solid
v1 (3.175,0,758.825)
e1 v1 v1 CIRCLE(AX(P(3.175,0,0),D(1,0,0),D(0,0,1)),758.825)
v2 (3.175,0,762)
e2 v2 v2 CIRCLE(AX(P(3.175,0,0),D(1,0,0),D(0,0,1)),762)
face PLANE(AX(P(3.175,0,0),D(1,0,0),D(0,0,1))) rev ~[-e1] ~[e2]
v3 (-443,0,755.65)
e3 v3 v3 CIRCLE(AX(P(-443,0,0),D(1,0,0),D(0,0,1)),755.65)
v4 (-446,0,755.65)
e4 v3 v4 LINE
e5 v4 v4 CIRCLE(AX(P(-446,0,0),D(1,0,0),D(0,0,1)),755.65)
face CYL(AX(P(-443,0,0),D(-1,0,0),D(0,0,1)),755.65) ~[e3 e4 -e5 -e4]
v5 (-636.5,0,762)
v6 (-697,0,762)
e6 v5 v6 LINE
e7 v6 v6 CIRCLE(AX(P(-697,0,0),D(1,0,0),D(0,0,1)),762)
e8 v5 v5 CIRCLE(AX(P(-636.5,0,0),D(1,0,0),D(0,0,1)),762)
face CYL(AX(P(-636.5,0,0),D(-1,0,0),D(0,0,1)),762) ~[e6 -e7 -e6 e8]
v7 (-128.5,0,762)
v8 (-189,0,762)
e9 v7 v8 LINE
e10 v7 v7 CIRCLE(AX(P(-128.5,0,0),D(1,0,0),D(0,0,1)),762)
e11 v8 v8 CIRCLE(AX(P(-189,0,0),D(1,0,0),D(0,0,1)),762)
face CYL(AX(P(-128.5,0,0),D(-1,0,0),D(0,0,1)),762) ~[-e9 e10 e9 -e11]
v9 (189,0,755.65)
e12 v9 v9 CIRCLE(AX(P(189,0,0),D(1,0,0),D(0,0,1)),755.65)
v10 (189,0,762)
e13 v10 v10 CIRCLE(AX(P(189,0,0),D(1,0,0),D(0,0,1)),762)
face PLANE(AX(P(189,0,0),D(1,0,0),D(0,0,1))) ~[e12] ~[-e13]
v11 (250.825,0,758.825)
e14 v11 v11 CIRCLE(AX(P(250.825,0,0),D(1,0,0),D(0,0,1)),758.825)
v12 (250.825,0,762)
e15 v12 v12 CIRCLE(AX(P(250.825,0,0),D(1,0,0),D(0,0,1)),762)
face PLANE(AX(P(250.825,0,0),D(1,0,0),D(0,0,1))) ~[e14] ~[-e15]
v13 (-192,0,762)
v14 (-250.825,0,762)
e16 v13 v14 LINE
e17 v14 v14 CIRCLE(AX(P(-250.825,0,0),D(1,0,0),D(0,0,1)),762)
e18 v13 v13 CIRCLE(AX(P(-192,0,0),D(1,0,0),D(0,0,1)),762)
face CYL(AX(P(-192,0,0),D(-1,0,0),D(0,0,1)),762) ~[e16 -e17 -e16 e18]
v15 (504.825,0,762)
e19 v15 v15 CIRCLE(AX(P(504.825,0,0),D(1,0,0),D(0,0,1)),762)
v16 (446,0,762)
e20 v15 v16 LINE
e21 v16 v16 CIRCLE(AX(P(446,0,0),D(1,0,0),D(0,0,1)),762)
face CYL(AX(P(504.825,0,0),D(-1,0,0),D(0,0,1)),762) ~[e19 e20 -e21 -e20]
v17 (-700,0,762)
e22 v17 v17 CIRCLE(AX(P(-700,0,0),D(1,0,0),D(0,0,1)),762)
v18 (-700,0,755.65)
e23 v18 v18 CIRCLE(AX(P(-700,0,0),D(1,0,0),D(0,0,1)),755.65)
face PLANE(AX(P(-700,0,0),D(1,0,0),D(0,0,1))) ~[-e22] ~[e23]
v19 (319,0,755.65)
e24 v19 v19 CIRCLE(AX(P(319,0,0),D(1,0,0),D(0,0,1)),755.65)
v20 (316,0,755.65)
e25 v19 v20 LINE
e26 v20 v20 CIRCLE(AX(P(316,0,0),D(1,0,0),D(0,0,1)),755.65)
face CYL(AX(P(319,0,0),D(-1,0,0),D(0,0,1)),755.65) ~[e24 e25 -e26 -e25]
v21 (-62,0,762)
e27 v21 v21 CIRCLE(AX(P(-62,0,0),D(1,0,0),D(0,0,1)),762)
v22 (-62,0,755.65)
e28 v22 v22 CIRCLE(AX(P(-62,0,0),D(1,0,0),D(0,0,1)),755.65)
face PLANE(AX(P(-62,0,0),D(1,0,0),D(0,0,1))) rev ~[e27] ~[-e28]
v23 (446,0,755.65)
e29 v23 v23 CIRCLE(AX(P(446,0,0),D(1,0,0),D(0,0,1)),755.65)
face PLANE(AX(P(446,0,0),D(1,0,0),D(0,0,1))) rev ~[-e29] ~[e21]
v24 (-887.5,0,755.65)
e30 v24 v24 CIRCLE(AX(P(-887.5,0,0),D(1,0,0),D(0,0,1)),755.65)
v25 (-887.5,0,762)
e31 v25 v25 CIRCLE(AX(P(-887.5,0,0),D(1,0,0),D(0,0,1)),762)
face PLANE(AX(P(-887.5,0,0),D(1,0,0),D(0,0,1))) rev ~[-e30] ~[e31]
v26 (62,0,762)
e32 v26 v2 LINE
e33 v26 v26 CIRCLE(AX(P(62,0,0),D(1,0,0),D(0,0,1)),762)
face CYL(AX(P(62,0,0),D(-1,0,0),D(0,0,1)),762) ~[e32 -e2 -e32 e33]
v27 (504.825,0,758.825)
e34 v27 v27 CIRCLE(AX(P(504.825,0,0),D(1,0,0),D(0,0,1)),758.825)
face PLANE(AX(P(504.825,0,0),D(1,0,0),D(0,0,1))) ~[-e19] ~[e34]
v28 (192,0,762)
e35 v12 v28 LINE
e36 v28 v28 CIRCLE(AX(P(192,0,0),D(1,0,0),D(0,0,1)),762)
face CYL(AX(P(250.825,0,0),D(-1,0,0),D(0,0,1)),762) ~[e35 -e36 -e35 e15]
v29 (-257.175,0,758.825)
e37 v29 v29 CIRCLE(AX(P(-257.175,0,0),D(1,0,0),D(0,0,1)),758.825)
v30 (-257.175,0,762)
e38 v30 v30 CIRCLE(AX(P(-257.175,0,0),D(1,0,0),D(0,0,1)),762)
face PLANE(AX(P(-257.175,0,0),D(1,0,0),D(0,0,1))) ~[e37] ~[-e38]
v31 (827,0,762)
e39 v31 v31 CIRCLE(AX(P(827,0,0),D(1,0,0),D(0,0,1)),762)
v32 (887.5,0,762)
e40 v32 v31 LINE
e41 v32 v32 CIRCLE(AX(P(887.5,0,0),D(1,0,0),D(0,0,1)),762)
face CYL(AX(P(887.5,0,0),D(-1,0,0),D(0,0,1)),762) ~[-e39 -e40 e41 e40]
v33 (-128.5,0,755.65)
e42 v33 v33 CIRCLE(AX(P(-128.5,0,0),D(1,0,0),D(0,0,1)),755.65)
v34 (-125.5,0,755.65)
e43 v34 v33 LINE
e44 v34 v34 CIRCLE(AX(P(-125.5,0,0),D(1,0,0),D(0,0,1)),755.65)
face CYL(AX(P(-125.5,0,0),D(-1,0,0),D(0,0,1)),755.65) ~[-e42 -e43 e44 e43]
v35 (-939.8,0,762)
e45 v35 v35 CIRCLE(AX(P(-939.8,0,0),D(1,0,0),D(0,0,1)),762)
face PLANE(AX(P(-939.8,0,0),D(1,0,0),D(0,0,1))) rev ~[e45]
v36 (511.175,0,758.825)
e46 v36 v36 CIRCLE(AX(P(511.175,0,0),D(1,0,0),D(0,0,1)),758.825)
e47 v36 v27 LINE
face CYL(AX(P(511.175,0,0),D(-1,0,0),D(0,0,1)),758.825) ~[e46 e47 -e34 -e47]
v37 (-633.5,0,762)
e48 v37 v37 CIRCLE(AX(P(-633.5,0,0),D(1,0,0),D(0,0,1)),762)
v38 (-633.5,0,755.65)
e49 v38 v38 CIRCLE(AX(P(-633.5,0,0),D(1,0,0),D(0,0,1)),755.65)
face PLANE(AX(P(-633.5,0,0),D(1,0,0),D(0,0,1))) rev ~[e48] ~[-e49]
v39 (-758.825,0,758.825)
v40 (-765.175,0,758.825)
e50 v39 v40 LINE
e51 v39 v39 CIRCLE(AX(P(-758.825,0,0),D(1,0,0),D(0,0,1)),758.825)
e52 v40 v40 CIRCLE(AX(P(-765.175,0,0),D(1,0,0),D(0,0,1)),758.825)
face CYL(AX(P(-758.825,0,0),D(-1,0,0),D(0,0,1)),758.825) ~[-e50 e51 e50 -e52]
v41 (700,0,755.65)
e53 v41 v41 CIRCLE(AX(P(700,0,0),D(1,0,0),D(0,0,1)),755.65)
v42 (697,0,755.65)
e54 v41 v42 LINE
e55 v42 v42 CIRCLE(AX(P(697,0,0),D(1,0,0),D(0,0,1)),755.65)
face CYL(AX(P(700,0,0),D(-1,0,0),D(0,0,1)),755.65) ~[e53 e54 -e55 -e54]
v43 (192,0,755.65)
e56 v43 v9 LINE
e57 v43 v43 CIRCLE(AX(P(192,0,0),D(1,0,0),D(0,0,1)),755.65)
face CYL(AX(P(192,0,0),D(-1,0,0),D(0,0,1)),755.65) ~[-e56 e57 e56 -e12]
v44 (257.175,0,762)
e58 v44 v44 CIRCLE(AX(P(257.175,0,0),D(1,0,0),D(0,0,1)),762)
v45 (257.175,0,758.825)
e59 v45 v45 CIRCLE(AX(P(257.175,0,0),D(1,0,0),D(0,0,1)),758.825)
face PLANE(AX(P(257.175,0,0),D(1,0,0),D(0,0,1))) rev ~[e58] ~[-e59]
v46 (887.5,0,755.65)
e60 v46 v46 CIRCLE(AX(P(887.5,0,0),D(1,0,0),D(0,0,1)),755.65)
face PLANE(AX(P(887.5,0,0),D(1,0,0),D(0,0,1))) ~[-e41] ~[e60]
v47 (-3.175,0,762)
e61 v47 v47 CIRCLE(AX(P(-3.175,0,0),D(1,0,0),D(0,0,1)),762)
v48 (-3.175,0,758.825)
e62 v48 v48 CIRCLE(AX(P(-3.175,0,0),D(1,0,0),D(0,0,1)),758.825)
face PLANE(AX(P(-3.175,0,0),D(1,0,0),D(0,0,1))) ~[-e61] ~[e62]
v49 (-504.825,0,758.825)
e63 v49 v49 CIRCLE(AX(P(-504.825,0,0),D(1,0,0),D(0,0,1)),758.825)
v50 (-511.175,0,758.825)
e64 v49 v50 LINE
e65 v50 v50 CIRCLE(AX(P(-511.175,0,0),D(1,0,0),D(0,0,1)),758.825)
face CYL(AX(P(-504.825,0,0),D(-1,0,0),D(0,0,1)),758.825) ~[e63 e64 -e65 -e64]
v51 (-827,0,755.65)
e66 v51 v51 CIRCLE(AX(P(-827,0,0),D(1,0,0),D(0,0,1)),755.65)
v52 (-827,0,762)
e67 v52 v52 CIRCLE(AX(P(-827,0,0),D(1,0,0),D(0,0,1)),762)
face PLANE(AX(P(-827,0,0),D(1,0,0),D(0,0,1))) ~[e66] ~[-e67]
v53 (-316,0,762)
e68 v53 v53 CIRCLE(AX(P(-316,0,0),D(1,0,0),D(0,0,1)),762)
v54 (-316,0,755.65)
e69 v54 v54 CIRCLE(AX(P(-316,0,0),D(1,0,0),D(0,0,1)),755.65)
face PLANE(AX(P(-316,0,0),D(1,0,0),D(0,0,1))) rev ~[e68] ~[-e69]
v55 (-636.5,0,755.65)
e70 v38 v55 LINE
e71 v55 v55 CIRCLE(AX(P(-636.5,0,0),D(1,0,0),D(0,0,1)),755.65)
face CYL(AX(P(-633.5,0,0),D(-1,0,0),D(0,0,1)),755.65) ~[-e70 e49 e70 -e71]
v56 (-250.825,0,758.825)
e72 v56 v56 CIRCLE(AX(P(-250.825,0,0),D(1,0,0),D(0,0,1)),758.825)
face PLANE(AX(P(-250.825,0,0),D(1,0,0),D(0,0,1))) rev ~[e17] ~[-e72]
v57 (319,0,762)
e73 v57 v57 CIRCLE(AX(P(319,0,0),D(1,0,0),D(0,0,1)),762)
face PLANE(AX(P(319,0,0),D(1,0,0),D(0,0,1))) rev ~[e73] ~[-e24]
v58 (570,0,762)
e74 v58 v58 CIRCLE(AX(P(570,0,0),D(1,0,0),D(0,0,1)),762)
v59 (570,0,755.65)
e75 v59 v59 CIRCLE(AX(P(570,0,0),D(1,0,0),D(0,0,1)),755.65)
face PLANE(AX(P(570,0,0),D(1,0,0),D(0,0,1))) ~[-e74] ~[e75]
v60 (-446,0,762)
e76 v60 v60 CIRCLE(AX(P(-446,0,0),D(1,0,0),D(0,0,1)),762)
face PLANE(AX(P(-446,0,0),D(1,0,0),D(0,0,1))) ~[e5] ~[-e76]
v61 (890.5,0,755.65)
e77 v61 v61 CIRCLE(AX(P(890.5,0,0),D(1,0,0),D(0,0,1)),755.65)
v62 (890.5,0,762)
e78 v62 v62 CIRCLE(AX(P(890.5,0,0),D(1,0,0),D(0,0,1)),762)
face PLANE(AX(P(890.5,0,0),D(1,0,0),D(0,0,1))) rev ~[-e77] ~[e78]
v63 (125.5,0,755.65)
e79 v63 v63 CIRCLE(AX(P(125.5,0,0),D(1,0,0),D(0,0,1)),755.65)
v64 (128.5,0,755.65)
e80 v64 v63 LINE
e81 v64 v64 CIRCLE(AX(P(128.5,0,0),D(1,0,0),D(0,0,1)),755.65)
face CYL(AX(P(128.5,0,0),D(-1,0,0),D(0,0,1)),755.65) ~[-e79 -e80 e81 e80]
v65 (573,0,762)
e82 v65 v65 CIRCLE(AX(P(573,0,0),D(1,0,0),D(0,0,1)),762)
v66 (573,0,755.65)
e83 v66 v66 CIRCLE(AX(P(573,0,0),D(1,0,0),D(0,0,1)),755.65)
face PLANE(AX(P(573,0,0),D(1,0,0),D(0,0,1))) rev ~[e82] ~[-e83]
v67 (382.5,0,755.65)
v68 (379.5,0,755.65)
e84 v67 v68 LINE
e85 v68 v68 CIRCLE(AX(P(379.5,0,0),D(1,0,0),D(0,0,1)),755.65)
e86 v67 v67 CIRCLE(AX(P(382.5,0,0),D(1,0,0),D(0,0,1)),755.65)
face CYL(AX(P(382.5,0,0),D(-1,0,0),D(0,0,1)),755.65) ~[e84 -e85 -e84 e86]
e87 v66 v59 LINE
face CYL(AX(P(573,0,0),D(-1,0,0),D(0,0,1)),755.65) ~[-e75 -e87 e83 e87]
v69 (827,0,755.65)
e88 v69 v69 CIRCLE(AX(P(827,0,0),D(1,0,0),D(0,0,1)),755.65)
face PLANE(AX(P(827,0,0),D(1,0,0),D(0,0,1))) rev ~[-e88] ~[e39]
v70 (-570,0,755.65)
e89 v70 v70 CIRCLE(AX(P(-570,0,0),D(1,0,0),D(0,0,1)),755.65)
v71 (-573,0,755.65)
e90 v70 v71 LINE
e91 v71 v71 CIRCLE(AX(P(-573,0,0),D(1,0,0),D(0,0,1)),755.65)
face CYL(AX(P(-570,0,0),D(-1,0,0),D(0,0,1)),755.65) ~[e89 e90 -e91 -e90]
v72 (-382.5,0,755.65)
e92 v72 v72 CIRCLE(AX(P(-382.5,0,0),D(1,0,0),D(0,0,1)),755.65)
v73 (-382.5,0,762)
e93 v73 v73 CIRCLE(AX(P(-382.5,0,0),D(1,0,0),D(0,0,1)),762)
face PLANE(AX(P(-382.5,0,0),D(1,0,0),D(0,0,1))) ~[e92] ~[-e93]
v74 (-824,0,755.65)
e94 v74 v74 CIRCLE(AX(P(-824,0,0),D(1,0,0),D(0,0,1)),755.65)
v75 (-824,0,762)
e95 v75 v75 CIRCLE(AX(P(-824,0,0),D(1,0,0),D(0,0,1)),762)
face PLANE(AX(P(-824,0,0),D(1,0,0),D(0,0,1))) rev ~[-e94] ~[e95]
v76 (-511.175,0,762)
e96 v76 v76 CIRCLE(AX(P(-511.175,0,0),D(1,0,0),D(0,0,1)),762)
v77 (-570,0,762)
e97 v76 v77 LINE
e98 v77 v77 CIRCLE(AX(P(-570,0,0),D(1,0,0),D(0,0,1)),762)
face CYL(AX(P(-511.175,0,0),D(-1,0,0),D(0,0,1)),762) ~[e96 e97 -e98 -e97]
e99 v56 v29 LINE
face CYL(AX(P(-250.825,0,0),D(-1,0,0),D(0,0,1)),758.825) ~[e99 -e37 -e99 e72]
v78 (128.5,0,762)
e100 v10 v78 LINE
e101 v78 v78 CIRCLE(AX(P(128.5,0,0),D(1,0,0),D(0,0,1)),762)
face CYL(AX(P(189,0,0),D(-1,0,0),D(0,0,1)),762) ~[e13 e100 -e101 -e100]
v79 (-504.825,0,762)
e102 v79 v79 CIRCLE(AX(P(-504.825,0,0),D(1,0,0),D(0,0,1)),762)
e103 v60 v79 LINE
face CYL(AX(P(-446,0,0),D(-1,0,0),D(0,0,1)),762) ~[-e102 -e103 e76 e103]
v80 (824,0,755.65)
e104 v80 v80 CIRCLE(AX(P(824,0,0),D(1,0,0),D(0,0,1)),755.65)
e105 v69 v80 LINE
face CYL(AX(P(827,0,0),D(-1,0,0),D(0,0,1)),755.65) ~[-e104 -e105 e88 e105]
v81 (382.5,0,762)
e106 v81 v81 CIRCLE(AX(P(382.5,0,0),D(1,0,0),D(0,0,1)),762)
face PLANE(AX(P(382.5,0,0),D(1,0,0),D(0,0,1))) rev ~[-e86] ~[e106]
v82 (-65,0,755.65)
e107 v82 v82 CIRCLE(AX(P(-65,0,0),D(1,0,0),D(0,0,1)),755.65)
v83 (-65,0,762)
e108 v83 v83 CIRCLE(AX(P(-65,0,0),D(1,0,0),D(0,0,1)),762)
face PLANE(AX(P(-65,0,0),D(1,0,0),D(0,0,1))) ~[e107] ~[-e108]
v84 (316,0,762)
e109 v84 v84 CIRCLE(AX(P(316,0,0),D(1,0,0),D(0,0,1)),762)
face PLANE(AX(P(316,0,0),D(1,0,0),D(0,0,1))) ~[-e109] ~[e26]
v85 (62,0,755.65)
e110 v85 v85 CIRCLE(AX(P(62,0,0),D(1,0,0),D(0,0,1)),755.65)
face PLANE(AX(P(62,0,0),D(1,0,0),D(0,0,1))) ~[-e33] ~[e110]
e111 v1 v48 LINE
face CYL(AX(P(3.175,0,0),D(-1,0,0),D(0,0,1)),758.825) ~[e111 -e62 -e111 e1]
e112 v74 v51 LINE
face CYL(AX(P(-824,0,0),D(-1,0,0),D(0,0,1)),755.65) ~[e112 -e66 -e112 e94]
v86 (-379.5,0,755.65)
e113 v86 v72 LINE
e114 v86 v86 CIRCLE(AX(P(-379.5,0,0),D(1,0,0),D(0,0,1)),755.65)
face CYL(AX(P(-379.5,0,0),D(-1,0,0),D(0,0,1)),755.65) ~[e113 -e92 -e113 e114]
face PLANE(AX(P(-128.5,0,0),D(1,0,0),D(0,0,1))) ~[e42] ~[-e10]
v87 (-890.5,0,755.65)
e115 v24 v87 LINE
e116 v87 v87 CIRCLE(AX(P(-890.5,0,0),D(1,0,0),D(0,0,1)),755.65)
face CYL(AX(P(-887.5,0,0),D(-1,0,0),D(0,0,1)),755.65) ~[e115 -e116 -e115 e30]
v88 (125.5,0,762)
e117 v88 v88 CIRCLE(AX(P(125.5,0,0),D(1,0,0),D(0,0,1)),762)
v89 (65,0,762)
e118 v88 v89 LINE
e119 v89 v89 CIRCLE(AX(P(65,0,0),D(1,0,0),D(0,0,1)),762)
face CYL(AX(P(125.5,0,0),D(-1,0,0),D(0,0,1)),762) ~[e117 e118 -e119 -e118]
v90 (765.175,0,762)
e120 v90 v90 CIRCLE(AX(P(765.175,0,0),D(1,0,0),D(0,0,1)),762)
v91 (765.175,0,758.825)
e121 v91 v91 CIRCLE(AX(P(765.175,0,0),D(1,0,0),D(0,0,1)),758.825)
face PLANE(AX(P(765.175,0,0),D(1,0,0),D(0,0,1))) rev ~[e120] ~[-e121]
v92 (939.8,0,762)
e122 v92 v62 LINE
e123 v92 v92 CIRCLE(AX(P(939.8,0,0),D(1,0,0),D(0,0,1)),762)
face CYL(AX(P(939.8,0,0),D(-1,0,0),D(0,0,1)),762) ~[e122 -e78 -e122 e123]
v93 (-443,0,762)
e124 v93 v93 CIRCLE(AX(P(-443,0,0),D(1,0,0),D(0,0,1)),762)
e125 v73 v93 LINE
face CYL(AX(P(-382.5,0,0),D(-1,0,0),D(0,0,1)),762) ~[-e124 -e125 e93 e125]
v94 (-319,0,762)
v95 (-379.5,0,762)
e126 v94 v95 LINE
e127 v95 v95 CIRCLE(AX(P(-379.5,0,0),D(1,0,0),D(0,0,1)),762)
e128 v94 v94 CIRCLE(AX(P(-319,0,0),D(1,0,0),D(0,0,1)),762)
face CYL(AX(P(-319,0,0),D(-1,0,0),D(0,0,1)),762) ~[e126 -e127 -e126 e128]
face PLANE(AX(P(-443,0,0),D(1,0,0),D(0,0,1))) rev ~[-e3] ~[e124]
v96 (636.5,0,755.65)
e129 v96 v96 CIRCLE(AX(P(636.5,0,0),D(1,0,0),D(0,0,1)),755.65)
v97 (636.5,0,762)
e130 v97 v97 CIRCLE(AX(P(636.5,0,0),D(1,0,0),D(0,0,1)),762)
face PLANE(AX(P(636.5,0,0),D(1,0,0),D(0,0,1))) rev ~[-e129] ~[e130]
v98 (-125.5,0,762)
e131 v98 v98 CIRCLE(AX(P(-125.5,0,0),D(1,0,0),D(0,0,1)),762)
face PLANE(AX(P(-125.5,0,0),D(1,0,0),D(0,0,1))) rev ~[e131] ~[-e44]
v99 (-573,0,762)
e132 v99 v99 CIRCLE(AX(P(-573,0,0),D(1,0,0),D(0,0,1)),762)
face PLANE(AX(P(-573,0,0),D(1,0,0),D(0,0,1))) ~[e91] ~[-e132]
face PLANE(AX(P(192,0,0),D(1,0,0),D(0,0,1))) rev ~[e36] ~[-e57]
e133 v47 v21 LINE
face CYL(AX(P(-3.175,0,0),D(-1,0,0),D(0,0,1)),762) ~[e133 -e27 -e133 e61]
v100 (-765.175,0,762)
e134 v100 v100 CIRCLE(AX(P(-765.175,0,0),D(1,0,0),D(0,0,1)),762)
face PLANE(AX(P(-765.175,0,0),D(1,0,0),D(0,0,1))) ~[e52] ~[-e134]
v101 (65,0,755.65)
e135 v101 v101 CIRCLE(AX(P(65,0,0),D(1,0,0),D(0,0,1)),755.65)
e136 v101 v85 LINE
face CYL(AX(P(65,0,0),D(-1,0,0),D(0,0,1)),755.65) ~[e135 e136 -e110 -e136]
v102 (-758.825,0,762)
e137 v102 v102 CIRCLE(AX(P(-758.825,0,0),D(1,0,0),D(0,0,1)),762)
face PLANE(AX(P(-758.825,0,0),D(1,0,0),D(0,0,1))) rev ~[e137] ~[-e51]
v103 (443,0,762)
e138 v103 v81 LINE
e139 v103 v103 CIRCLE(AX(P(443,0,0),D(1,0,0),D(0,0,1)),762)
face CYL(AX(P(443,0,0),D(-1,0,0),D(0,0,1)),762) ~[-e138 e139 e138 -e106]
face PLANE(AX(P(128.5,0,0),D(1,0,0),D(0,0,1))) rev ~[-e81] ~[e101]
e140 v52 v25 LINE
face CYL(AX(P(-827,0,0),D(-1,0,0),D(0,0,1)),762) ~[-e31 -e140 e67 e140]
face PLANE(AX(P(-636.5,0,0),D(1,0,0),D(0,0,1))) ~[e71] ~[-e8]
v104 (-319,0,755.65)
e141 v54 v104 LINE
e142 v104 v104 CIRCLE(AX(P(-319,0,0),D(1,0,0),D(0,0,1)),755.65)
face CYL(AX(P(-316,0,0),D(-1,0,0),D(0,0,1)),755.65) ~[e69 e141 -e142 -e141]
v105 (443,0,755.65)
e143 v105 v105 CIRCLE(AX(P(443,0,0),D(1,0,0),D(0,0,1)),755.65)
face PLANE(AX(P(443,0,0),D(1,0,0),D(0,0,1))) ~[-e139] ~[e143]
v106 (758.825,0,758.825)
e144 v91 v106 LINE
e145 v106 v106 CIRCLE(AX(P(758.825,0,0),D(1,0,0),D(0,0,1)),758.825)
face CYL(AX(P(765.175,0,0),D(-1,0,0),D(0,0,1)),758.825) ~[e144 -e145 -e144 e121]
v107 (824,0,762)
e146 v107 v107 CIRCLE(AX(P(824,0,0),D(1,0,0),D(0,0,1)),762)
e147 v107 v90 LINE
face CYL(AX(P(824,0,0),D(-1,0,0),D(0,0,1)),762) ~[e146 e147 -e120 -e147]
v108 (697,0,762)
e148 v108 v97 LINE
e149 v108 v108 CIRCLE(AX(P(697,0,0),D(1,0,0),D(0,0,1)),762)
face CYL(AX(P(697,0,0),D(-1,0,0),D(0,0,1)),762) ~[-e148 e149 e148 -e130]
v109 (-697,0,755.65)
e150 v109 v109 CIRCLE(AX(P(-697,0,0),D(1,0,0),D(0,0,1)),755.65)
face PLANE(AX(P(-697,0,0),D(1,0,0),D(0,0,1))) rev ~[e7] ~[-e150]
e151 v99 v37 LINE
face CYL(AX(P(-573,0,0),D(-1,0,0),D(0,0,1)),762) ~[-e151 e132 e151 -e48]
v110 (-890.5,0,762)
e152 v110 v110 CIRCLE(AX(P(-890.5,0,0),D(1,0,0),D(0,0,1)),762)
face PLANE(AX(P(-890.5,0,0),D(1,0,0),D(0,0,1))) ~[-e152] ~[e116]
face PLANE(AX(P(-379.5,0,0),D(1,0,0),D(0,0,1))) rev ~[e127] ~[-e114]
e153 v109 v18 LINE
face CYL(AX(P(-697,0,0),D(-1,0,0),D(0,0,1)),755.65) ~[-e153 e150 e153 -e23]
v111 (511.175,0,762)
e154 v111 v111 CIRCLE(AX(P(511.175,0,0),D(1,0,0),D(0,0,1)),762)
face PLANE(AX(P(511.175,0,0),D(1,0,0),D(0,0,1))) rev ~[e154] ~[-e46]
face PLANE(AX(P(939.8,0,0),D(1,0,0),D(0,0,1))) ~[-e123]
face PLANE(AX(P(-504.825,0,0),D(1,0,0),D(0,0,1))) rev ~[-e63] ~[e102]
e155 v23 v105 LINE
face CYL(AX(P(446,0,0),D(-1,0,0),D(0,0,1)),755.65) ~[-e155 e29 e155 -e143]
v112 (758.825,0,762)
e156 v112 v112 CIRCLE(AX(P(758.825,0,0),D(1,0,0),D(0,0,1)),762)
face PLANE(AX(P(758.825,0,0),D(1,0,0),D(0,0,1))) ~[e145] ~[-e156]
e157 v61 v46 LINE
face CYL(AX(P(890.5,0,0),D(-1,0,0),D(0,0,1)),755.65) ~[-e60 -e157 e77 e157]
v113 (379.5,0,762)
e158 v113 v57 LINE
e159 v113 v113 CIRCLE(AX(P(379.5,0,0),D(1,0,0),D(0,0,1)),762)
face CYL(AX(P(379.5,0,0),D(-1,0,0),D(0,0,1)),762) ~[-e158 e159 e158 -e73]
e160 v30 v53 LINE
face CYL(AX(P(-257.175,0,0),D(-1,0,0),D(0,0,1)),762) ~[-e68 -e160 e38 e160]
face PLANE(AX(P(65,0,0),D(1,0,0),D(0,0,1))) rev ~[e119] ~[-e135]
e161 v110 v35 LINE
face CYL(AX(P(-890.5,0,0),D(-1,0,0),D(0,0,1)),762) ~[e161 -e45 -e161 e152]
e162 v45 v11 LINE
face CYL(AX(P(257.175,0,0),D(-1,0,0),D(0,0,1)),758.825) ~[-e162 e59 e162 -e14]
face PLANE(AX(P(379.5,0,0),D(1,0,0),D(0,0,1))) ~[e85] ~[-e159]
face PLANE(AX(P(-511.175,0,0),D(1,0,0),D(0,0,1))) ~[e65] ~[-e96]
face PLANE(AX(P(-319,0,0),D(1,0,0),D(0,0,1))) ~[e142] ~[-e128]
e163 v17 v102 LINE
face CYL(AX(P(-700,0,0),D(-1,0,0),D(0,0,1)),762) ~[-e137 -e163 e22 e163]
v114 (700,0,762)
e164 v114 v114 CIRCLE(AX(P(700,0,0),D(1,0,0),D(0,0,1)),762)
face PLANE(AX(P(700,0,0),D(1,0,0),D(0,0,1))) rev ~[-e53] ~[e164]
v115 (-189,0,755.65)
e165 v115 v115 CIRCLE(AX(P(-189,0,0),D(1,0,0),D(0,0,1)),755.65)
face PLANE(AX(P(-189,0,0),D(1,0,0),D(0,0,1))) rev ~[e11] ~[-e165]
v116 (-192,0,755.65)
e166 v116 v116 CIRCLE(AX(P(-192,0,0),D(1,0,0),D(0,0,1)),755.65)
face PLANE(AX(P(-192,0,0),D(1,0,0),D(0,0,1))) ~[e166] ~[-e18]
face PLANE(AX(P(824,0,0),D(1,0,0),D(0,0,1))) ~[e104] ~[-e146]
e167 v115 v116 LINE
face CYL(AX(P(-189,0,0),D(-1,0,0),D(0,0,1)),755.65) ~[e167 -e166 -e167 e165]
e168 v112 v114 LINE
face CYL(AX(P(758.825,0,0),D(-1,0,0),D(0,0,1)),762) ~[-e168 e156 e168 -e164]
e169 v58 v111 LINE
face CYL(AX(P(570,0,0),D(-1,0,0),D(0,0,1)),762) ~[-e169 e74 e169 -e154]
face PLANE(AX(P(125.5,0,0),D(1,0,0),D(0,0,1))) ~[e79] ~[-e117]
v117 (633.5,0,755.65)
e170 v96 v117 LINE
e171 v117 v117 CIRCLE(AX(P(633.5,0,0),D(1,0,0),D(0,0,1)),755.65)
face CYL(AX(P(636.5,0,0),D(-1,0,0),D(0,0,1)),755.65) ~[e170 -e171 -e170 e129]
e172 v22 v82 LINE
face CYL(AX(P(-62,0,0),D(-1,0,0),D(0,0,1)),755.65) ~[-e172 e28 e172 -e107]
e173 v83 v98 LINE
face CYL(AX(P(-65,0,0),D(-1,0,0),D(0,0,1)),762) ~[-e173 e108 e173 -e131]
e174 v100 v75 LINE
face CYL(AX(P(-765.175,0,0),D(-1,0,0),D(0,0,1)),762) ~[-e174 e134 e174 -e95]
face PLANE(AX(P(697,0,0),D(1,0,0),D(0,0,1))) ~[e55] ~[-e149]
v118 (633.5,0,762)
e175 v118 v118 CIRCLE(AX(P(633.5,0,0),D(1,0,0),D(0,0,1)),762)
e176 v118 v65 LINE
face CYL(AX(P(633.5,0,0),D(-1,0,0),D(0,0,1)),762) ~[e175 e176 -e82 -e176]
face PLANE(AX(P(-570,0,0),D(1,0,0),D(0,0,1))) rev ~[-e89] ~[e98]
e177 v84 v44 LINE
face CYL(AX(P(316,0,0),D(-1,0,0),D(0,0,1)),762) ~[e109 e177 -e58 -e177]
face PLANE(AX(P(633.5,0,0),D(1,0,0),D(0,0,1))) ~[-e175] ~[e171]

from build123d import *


with BuildPart() as f1:
    # F0 (on Front) → F1 (revolve)
    with BuildSketch(Plane.XZ):
        Polygon((3.175, 758.825), (0, 758.825), (-3.175, 758.825), (-3.175, 762), (-62, 762), (-62, 755.65), (-63.5, 755.65), (-65, 755.65), (-65, 762), (-125.5, 762), (-125.5, 755.65), (-127, 755.65), (-128.5, 755.65), (-128.5, 762), (-189, 762), (-189, 755.65), (-190.5, 755.65), (-192, 755.65), (-192, 762), (-250.825, 762), (-250.825, 758.825), (-254, 758.825), (-257.175, 758.825), (-257.175, 762), (-316, 762), (-316, 755.65), (-317.5, 755.65), (-319, 755.65), (-319, 762), (-379.5, 762), (-379.5, 755.65), (-381, 755.65), (-382.5, 755.65), (-382.5, 762), (-443, 762), (-443, 755.65), (-444.5, 755.65), (-446, 755.65), (-446, 762), (-504.825, 762), (-504.825, 758.825), (-508, 758.825), (-511.175, 758.825), (-511.175, 762), (-570, 762), (-570, 755.65), (-571.5, 755.65), (-573, 755.65), (-573, 762), (-633.5, 762), (-633.5, 755.65), (-635, 755.65), (-636.5, 755.65), (-636.5, 762), (-697, 762), (-697, 755.65), (-698.5, 755.65), (-700, 755.65), (-700, 762), (-758.825, 762), (-758.825, 758.825), (-762, 758.825), (-765.175, 758.825), (-765.175, 762), (-824, 762), (-824, 755.65), (-825.5, 755.65), (-827, 755.65), (-827, 762), (-887.5, 762), (-887.5, 755.65), (-889, 755.65), (-890.5, 755.65), (-890.5, 762), (-939.8, 762), (-939.8, 755.65), (-939.8, 0), (939.8, 0), (939.8, 762), (890.5, 762), (890.5, 755.65), (889, 755.65), (887.5, 755.65), (887.5, 762), (827, 762), (827, 755.65), (825.5, 755.65), (824, 755.65), (824, 762), (765.175, 762), (765.175, 758.825), (762, 758.825), (758.825, 758.825), (758.825, 762), (700, 762), (700, 755.65), (698.5, 755.65), (697, 755.65), (697, 762), (636.5, 762), (636.5, 755.65), (635, 755.65), (633.5, 755.65), (633.5, 762), (573, 762), (573, 755.65), (571.5, 755.65), (570, 755.65), (570, 762), (511.175, 762), (511.175, 758.825), (508, 758.825), (504.825, 758.825), (504.825, 762), (446, 762), (446, 755.65), (444.5, 755.65), (443, 755.65), (443, 762), (382.5, 762), (382.5, 755.65), (381, 755.65), (379.5, 755.65), (379.5, 762), (319, 762), (319, 755.65), (317.5, 755.65), (316, 755.65), (316, 762), (257.175, 762), (257.175, 758.825), (254, 758.825), (250.825, 758.825), (250.825, 762), (192, 762), (192, 755.65), (190.5, 755.65), (189, 755.65), (189, 762), (128.5, 762), (128.5, 755.65), (127, 755.65), (125.5, 755.65), (125.5, 762), (65, 762), (65, 755.65), (63.5, 755.65), (62, 755.65), (62, 762), (3.175, 762), align=None)
    revolve(axis=Axis((0, 0, 0), (1, 0, 0)))


solid = f1.part
